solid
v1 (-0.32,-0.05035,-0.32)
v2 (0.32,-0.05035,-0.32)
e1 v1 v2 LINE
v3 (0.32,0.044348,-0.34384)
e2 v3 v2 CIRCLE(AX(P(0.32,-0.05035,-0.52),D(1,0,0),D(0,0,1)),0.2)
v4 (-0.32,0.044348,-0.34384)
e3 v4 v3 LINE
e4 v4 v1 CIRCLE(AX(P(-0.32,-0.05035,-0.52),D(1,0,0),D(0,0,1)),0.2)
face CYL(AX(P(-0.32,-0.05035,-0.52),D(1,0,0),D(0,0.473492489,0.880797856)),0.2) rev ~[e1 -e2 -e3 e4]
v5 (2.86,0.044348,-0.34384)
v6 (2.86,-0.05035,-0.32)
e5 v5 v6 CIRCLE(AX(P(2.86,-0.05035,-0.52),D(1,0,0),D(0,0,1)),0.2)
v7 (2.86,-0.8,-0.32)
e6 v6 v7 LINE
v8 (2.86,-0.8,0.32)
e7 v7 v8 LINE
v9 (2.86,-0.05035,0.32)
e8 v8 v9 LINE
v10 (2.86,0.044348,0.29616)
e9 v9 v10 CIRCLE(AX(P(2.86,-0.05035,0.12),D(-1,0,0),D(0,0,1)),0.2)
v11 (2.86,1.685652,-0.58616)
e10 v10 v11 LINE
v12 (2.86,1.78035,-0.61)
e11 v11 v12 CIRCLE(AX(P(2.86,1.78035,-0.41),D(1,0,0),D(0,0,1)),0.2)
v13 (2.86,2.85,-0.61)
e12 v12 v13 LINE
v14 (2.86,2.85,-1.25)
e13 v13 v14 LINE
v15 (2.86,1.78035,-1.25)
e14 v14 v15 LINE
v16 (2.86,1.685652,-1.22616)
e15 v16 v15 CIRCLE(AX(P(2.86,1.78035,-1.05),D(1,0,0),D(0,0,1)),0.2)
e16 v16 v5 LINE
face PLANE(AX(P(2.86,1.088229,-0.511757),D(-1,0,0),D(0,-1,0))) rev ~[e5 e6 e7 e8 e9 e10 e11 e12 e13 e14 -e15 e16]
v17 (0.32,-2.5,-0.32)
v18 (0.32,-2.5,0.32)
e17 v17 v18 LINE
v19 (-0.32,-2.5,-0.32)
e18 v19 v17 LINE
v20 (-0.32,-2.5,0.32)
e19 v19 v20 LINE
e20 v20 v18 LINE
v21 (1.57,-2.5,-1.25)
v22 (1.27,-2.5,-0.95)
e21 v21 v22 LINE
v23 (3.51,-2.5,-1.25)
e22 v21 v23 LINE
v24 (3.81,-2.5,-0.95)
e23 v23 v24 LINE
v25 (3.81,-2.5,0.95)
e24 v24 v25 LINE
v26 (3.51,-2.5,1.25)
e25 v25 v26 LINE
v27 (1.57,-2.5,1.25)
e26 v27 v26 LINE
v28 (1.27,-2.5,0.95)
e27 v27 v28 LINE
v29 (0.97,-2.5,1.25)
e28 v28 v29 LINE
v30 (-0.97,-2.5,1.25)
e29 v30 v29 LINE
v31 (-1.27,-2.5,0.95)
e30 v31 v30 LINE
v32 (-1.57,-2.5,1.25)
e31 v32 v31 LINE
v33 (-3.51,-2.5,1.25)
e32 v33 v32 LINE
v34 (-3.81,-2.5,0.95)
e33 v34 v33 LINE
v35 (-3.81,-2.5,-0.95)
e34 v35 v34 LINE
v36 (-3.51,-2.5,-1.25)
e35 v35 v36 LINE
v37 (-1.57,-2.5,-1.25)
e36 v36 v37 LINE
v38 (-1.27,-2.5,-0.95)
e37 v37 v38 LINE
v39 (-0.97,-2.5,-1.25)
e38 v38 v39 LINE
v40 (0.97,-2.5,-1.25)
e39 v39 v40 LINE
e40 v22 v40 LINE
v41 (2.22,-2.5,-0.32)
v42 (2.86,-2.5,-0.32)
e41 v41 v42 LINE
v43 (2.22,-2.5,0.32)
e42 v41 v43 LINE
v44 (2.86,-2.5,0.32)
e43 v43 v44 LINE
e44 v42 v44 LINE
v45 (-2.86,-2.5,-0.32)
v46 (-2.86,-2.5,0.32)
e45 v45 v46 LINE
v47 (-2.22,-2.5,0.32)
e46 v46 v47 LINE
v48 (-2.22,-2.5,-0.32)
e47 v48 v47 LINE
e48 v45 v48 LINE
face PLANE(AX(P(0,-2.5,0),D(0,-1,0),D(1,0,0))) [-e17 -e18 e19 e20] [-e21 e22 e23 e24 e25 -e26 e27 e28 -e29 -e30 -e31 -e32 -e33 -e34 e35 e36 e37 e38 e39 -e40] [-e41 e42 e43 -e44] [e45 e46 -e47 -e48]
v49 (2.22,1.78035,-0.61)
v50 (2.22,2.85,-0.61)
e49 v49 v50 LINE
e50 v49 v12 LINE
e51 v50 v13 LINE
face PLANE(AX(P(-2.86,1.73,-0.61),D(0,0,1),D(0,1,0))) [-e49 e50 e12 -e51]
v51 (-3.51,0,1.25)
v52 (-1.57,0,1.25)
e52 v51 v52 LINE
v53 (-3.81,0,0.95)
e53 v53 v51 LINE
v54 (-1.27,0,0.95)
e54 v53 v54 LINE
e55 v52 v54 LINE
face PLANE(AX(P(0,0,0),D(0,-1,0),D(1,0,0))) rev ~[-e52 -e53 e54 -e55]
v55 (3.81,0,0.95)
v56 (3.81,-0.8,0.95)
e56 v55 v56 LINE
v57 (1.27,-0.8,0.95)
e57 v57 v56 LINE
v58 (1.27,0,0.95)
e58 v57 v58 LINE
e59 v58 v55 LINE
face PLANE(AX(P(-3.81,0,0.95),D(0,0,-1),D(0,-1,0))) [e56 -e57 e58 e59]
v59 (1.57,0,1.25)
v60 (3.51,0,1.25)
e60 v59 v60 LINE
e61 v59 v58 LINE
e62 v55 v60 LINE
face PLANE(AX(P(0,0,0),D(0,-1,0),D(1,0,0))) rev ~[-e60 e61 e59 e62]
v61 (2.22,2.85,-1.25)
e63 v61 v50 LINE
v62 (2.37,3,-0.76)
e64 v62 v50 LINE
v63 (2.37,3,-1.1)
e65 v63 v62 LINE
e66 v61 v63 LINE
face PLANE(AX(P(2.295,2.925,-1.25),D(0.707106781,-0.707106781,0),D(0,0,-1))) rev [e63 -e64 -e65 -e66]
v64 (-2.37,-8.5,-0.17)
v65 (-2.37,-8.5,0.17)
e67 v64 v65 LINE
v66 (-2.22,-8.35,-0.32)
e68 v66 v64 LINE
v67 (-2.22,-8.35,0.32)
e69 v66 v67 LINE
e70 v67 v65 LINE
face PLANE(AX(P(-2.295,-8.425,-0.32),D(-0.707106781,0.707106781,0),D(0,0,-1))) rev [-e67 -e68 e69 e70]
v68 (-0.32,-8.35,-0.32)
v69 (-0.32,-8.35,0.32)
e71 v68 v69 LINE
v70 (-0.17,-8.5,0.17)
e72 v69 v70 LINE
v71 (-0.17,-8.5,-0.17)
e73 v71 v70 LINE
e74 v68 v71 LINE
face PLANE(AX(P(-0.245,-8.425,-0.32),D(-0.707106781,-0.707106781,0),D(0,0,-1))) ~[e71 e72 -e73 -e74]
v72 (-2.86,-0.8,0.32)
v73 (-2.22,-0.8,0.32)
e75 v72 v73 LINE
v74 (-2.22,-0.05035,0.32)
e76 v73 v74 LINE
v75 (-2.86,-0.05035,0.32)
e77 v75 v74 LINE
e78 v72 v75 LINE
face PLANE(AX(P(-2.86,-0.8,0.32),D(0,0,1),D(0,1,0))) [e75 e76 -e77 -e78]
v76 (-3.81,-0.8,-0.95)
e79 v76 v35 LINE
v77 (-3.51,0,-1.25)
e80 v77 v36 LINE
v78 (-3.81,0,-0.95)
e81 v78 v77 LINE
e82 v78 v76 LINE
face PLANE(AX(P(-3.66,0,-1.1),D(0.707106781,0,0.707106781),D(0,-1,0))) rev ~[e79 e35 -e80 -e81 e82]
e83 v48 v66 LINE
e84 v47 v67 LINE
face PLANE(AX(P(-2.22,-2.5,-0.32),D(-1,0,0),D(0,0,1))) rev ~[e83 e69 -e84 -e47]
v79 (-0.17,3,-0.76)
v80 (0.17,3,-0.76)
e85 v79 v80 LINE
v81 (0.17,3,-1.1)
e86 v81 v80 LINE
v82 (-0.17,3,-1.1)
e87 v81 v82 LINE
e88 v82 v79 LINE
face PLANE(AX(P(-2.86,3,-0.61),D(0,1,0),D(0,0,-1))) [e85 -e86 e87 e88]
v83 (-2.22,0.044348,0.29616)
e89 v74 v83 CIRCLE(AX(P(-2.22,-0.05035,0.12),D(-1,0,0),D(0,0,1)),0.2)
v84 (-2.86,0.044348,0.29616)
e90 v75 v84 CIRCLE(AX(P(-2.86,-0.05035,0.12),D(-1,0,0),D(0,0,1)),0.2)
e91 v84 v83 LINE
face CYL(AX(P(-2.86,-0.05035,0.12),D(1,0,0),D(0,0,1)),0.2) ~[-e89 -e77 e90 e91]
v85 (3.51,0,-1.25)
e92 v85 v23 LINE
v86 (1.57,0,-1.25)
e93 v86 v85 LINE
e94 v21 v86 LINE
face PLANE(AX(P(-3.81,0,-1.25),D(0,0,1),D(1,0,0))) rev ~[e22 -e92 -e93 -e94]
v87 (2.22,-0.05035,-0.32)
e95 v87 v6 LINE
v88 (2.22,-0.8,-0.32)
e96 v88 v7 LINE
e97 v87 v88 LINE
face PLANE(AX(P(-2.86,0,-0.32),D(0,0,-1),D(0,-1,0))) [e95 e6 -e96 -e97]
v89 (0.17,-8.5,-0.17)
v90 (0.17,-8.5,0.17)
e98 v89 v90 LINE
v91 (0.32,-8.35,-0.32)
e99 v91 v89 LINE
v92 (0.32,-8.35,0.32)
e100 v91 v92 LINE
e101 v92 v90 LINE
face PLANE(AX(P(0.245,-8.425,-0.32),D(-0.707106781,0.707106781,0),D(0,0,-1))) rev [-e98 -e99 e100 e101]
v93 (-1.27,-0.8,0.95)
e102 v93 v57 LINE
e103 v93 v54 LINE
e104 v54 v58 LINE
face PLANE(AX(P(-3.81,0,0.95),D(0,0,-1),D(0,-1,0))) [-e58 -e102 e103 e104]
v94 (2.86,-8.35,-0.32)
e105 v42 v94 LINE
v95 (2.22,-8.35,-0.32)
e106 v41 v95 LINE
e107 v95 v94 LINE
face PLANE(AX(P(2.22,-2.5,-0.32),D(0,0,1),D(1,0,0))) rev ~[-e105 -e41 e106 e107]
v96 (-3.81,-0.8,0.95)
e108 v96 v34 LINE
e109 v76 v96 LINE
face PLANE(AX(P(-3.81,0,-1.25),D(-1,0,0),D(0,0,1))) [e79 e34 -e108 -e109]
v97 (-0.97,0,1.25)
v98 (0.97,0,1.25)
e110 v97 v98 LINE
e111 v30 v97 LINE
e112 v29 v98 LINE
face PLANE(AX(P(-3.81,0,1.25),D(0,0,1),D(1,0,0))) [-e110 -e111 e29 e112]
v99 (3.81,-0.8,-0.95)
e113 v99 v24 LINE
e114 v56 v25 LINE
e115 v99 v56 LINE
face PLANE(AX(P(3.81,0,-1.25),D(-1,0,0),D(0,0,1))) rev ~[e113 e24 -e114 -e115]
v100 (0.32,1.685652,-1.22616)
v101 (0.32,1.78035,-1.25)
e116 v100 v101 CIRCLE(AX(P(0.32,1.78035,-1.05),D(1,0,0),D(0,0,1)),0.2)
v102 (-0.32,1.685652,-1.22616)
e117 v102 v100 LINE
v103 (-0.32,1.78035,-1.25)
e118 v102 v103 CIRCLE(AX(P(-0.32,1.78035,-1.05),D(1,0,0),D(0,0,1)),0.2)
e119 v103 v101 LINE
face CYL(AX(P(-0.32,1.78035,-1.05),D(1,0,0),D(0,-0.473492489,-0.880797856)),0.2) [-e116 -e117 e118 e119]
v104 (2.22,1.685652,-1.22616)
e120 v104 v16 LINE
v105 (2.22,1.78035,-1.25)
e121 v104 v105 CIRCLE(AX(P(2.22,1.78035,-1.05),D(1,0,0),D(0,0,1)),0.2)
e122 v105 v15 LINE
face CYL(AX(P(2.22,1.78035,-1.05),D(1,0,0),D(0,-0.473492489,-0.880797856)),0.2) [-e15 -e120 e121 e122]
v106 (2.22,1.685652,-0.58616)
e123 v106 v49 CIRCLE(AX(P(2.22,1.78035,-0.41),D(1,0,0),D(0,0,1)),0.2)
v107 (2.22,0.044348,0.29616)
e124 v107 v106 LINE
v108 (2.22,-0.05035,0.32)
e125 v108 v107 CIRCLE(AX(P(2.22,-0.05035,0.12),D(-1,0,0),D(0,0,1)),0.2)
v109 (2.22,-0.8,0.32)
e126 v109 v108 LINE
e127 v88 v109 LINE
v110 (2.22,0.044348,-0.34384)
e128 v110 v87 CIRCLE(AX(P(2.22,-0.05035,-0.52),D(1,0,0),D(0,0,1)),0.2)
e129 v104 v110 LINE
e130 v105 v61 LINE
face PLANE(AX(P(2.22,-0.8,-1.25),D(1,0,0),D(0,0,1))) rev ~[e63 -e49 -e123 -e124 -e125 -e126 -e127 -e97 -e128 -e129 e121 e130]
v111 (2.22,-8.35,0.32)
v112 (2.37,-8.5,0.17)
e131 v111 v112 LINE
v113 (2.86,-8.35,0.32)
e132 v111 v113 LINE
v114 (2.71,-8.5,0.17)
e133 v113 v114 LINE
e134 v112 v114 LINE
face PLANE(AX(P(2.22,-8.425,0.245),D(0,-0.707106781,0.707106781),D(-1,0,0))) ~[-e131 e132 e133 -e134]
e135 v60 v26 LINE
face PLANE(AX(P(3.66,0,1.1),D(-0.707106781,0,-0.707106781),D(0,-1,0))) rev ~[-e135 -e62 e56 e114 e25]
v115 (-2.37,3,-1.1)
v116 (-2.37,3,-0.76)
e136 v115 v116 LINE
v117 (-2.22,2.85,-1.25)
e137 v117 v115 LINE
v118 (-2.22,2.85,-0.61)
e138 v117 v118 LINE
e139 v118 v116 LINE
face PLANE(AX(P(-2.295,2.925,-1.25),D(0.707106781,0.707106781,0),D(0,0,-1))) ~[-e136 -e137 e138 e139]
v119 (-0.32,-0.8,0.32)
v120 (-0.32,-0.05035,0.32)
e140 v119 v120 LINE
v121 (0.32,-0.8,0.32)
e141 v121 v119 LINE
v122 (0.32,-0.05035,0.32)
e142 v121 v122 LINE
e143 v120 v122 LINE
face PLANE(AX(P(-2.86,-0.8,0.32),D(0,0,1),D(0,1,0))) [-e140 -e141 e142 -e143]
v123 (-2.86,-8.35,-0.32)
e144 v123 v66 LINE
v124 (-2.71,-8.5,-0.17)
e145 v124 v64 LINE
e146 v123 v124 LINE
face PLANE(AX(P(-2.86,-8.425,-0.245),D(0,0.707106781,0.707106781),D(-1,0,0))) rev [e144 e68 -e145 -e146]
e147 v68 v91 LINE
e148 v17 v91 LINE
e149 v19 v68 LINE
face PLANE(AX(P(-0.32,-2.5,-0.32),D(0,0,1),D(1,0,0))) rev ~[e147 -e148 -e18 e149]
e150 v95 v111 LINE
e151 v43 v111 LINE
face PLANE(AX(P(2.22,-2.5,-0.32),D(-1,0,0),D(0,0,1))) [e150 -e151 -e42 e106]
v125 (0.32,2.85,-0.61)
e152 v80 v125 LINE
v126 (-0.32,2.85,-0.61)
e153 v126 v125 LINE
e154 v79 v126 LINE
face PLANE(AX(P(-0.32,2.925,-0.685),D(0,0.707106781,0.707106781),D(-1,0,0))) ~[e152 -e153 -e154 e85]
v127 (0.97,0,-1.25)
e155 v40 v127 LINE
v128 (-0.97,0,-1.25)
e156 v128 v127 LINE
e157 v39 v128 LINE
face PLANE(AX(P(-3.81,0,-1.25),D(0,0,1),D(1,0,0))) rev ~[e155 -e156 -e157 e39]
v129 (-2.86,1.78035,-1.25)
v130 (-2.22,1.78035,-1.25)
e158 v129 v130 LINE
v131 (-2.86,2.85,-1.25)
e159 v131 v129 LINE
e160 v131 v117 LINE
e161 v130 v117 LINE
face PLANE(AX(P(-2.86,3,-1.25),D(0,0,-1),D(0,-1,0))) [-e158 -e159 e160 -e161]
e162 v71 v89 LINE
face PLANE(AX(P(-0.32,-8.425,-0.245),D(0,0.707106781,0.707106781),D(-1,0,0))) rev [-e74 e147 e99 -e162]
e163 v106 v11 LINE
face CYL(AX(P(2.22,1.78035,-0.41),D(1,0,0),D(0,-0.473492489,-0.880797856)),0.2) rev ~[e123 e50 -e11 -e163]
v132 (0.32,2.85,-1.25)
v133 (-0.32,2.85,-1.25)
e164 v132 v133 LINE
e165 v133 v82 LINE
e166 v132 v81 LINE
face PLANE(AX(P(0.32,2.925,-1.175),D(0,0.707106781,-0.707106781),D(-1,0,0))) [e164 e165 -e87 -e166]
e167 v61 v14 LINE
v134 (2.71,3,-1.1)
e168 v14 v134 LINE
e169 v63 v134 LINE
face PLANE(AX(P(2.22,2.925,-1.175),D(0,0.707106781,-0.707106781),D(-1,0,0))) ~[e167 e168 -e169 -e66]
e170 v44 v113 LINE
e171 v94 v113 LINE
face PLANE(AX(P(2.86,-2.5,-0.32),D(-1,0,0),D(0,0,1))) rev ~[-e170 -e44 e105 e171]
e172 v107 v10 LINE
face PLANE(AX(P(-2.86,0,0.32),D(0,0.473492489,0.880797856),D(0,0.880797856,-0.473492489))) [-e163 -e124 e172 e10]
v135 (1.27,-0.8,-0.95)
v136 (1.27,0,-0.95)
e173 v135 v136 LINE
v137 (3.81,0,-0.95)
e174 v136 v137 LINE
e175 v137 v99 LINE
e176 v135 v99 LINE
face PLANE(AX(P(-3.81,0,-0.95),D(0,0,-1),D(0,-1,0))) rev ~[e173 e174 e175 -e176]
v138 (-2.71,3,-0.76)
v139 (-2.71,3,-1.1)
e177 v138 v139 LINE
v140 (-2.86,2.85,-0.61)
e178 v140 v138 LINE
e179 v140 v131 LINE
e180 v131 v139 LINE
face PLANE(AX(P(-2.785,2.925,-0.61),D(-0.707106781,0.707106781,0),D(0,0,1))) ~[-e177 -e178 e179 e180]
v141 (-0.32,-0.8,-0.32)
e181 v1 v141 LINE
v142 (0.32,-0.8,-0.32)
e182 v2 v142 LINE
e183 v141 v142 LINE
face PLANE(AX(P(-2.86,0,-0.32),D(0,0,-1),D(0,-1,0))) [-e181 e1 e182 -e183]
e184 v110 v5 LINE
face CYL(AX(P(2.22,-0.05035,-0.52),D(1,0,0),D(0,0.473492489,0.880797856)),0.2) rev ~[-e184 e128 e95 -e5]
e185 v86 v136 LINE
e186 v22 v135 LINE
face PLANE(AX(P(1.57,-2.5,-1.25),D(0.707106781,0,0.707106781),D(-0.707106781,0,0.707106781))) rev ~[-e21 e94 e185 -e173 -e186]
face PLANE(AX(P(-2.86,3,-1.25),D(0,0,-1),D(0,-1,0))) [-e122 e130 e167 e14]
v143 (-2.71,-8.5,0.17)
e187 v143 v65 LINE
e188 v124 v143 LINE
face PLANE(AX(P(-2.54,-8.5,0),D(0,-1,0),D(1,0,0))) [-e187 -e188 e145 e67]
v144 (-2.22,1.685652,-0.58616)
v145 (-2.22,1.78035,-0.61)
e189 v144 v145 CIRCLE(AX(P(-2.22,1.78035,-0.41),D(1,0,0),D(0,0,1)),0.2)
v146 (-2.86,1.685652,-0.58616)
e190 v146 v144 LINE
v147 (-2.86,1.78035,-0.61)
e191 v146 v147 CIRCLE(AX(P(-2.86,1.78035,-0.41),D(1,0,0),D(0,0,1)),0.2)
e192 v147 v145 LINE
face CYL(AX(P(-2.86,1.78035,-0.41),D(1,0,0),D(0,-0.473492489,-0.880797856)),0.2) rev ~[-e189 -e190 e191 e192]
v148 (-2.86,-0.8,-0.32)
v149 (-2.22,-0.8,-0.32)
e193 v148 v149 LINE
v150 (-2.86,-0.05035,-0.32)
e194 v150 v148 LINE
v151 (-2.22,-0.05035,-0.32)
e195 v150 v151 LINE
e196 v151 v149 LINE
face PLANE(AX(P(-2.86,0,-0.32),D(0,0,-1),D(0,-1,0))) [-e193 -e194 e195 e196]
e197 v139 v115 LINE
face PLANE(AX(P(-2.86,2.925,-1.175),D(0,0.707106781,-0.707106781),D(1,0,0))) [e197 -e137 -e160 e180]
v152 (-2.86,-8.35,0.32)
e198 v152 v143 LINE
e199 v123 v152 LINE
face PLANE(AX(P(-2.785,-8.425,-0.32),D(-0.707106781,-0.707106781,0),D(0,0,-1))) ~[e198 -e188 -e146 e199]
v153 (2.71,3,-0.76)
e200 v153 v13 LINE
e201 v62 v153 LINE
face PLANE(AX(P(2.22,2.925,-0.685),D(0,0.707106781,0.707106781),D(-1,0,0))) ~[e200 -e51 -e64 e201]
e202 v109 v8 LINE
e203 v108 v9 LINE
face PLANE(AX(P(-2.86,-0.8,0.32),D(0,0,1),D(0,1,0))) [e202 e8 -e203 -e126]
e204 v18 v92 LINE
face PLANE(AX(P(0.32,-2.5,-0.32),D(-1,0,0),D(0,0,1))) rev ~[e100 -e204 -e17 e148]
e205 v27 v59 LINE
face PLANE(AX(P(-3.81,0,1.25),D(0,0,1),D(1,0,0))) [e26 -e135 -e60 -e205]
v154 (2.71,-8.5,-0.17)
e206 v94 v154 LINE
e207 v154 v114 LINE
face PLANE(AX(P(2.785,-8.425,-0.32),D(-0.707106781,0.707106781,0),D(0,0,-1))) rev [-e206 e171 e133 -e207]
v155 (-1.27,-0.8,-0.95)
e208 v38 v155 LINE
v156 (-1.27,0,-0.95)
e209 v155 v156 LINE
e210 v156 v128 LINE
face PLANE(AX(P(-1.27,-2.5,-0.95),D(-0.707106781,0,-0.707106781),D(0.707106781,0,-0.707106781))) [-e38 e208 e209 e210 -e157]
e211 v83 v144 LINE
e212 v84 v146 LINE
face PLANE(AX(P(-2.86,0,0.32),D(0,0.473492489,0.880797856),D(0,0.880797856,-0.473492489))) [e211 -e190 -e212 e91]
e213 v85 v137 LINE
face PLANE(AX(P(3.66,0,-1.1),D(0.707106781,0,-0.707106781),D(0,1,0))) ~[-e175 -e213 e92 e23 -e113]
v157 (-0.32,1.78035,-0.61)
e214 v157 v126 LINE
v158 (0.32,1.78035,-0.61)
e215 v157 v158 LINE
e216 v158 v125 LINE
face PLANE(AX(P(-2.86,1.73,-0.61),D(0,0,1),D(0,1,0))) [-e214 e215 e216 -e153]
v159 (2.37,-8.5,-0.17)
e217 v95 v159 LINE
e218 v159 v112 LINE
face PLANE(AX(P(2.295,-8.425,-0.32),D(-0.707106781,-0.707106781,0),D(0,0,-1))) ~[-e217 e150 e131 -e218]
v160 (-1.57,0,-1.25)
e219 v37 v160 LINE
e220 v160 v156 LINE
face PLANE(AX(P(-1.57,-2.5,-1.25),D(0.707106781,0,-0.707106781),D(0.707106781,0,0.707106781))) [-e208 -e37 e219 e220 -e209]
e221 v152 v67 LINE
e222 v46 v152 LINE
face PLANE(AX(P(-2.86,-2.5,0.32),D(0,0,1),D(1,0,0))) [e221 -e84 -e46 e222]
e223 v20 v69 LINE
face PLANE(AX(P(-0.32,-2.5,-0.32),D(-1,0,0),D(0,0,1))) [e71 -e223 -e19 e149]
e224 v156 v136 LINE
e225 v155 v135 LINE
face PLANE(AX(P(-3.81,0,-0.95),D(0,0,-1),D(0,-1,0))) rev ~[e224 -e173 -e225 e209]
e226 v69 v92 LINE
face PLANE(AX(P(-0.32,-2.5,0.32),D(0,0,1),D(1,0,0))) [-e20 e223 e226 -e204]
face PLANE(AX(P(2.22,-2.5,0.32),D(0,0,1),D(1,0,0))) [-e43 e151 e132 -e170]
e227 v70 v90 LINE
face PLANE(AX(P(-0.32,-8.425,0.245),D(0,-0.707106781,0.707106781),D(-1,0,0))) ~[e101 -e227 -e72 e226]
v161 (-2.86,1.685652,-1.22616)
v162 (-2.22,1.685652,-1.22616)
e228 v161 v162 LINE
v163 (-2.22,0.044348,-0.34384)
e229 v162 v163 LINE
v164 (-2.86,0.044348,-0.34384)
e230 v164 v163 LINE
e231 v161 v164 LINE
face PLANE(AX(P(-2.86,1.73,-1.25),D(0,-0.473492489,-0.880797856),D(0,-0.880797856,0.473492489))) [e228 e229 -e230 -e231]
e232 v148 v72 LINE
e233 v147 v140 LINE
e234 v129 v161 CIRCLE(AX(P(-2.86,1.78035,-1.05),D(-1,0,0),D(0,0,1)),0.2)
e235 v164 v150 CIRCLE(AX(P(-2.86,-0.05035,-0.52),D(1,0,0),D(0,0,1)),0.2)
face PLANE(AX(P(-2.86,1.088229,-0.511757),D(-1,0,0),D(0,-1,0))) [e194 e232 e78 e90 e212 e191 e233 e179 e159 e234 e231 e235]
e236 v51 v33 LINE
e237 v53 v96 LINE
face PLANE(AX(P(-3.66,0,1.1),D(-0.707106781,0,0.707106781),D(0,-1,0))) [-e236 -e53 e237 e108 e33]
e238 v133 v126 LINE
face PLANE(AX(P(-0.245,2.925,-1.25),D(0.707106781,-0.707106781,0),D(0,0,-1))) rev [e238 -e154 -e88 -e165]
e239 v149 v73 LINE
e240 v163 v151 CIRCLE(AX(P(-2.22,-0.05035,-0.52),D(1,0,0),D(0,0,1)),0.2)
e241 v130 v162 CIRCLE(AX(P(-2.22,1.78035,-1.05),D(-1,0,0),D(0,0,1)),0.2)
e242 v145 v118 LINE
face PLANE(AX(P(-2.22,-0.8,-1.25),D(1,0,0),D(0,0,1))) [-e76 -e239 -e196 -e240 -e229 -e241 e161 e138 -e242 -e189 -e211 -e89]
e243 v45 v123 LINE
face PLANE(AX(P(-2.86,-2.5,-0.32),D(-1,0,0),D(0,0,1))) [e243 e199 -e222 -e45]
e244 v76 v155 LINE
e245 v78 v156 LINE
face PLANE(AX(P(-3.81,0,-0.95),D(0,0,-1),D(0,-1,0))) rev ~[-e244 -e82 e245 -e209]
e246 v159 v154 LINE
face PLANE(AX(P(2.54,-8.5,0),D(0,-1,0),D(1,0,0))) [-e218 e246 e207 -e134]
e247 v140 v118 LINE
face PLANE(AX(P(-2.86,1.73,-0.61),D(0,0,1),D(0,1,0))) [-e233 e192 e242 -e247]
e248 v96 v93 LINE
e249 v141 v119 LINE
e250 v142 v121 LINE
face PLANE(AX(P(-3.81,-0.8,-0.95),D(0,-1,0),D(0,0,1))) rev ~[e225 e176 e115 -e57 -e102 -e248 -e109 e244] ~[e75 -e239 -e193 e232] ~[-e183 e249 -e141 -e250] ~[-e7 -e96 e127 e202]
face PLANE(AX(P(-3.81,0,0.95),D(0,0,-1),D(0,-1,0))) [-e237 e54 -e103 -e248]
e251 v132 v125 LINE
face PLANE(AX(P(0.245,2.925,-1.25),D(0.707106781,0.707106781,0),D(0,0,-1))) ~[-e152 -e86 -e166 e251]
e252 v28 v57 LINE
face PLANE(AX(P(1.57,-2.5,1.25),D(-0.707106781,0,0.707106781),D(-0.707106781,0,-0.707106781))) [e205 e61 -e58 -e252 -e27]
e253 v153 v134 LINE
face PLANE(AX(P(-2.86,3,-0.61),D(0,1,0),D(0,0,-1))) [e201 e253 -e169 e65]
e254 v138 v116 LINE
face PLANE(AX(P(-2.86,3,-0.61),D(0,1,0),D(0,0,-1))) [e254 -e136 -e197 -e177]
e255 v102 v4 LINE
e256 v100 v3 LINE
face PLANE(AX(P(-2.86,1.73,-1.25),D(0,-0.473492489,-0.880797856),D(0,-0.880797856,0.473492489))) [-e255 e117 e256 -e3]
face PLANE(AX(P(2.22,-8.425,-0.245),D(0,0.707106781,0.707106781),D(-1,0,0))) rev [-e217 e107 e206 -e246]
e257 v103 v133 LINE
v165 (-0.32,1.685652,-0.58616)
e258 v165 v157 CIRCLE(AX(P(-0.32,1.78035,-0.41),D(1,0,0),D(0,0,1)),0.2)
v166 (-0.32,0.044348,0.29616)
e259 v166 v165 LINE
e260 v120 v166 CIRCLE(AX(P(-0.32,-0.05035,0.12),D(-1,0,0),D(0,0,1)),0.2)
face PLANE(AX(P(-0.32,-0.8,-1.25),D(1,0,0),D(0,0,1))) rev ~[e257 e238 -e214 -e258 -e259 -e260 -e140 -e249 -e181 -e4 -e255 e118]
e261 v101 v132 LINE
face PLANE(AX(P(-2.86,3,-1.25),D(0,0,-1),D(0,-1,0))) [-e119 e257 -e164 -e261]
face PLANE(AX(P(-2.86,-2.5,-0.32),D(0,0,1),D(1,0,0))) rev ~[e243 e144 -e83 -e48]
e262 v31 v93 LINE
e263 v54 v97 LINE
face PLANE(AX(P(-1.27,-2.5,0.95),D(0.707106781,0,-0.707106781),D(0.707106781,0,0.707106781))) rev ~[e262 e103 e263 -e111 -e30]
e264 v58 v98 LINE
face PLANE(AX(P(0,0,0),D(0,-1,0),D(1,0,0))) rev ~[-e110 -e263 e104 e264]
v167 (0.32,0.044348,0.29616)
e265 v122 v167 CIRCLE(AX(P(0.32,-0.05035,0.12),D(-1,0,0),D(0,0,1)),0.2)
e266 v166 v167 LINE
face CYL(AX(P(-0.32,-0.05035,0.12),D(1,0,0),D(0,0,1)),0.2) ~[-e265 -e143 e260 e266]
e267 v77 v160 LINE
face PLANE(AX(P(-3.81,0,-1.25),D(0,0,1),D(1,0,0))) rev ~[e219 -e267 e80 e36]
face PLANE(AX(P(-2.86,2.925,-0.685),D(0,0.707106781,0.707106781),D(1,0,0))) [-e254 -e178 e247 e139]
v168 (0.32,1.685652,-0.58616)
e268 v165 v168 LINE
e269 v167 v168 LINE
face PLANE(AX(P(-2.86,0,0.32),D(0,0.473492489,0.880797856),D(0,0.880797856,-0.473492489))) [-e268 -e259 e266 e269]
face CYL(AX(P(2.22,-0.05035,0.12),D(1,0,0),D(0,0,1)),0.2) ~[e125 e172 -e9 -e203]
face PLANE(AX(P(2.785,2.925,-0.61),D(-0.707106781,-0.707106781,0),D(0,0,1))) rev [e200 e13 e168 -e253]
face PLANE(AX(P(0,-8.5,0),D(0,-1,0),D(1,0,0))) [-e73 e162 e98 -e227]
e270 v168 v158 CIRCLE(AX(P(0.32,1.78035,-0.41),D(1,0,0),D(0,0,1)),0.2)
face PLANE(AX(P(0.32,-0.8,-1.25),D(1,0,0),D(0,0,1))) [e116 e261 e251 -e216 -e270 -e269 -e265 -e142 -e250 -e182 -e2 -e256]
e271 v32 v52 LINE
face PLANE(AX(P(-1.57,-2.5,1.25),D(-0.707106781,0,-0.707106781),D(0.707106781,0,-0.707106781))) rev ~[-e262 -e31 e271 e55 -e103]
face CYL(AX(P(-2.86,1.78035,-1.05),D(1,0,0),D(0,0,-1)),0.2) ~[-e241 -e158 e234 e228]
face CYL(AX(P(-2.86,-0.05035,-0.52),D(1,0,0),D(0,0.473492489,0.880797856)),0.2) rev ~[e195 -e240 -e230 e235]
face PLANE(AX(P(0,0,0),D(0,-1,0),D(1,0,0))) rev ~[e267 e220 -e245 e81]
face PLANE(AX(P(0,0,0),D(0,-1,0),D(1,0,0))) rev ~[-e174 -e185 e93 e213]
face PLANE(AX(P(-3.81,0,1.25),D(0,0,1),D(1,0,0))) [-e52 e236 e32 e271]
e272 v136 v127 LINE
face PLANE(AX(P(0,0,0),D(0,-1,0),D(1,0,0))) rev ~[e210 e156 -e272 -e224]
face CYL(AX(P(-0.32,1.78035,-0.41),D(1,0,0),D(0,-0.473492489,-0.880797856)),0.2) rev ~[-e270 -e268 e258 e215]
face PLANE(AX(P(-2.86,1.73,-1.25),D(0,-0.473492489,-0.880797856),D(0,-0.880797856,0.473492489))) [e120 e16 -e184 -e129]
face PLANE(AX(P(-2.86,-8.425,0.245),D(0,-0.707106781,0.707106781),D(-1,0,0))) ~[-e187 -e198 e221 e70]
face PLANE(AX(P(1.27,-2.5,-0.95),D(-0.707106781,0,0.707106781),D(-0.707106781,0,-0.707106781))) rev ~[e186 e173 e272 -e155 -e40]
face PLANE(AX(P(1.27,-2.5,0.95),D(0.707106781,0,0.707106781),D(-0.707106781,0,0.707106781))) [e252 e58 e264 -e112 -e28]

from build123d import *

# Parameters (mm, degrees)
SKETCH002_AS_DRAWN_W                      = 0.64
SKETCH002_AS_DRAWN_H                      = 0.64
EXTRUDE002_DEPTH                          = 6
EXTRUDE002_ONTO_SKETCH002_ROLL_ANGLE      = 90
CHAMFER001_SIZE                           = 0.15
SKETCH003_W                               = 0.8
SKETCH003_H                               = 1.9
EXTRUDE003_DEPTH                          = 7.62
EXTRUDE001_DEPTH                          = 2.5
EXTRUDE001_ONTO_SKETCH001_ROLL_ANGLE      = 90
SKETCH_AS_DRAWN_W                         = 7.62
SKETCH_AS_DRAWN_H                         = 2.5
EXTRUDE_DEPTH                             = 2.5
EXTRUDE_ONTO_SKETCH_ROLL_ANGLE            = 90
CHAMFER_SIZE                              = 0.3
SKETCH004_AS_DRAWN_W                      = 0.64
SKETCH004_AS_DRAWN_H                      = 1.57
EXTRUDE004_DEPTH                          = 3.8
EXTRUDE004_ONTO_SKETCH004_ROLL_ANGLE      = 90
EXTRUDE004_ONTO_SKETCH004_PLACEMENT_ANGLE = 180
EXTRUDE005_DEPTH                          = 5.72
FILLET_R                                  = 0.2
CHAMFER002_SIZE                           = 0.15


with BuildPart() as chamfer001:
    # Sketch002 as drawn → Extrude002 (new)
    with BuildSketch(Plane.XY):
        Rectangle(SKETCH002_AS_DRAWN_W, SKETCH002_AS_DRAWN_H)
        with Locations((-2.54, 0)):
            Rectangle(SKETCH002_AS_DRAWN_W, SKETCH002_AS_DRAWN_H)
        with Locations((2.54, 0)):
            Rectangle(SKETCH002_AS_DRAWN_W, SKETCH002_AS_DRAWN_H)
    extrude(amount=EXTRUDE002_DEPTH)


with BuildPart() as chamfer001_1:
    # Extrude002 onto Sketch002 roll: moved
    add(chamfer001.part.rotate(Axis((0, 0, 0), (1, 0, 0)), EXTRUDE002_ONTO_SKETCH002_ROLL_ANGLE))


with BuildPart() as chamfer001_2:
    # Extrude002 onto Sketch002 placement: moved
    add(chamfer001_1.part.moved(Location((0, -2.5, 0))))

    # Chamfer001
    chamfer001_edges = [chamfer001_2.edges().sort_by_distance(p)[0] for p in [
        (0, -8.5, 0.32),
        (-0.32, -8.5, 0),
        (0, -8.5, -0.32),
        (0.32, -8.5, 0),
        (2.54, -8.5, 0.32),
        (2.22, -8.5, 0),
        (2.54, -8.5, -0.32),
        (2.86, -8.5, 0),
        (-2.54, -8.5, 0.32),
        (-2.86, -8.5, 0),
        (-2.54, -8.5, -0.32),
        (-2.22, -8.5, 0),
    ]]
    chamfer(chamfer001_edges, length=CHAMFER001_SIZE)


with BuildPart() as extrude003:
    # Sketch003 (on Face6 of Cut) → Extrude003 (new body)
    with BuildSketch(Plane(origin=(-3.81, 0, 0), x_dir=(0, -1, 0), z_dir=(-1, 0, 0))):
        with Locations((0.4, 0)):
            Rectangle(SKETCH003_W, SKETCH003_H)
    extrude(amount=-EXTRUDE003_DEPTH)


with BuildPart() as extrude001:
    # Sketch001 as drawn → Extrude001 (new)
    with BuildSketch(Plane.XY):
        Polygon((-1.57, 1.25), (-1.27, 0.95), (-0.97, 1.25), align=None)
        Polygon((1.57, 1.25), (1.27, 0.95), (0.97, 1.25), align=None)
        Polygon((-1.57, -1.25), (-1.27, -0.95), (-0.97, -1.25), align=None)
        Polygon((1.57, -1.25), (1.27, -0.95), (0.97, -1.25), align=None)
    extrude(amount=-EXTRUDE001_DEPTH)


with BuildPart() as extrude001_1:
    # Extrude001 onto Sketch001 roll: moved
    add(extrude001.part.rotate(Axis((0, 0, 0), (1, 0, 0)), EXTRUDE001_ONTO_SKETCH001_ROLL_ANGLE))


with BuildPart() as extrude001_2:
    # Extrude001 onto Sketch001 placement: moved
    add(extrude001_1.part.moved(Location((0, -2.5, 0))))


with BuildPart() as cut001:
    # Sketch as drawn → Extrude (new)
    with BuildSketch(Plane.XY):
        Rectangle(SKETCH_AS_DRAWN_W, SKETCH_AS_DRAWN_H)
    extrude(amount=EXTRUDE_DEPTH)


with BuildPart() as cut001_1:
    # Extrude onto Sketch roll: moved
    add(cut001.part.rotate(Axis((0, 0, 0), (1, 0, 0)), EXTRUDE_ONTO_SKETCH_ROLL_ANGLE))


with BuildPart() as cut001_2:
    # Extrude onto Sketch placement: moved
    add(cut001_1.part)

    # Chamfer
    chamfer_edges = [cut001_2.edges().sort_by_distance(p)[0] for p in [
        (-3.81, -1.25, 1.25),
        (3.81, -1.25, 1.25),
        (3.81, -1.25, -1.25),
        (-3.81, -1.25, -1.25),
    ]]
    chamfer(chamfer_edges, length=CHAMFER_SIZE)

    # Cut: cut Extrude001
    add(extrude001_2.part, mode=Mode.SUBTRACT)

    # Cut001: cut Extrude003
    add(extrude003.part, mode=Mode.SUBTRACT)


with BuildPart() as extrude004:
    # Sketch004 as drawn → Extrude004 (new)
    with BuildSketch(Plane.XY):
        with Locations((0, -0.465)):
            Rectangle(SKETCH004_AS_DRAWN_W, SKETCH004_AS_DRAWN_H)
        with Locations((-2.54, -0.465)):
            Rectangle(SKETCH004_AS_DRAWN_W, SKETCH004_AS_DRAWN_H)
        with Locations((2.54, -0.465)):
            Rectangle(SKETCH004_AS_DRAWN_W, SKETCH004_AS_DRAWN_H)
    extrude(amount=EXTRUDE004_DEPTH)


with BuildPart() as extrude004_1:
    # Extrude004 onto Sketch004 roll: moved
    add(extrude004.part.rotate(Axis((0, 0, 0), (1, 0, 0)), EXTRUDE004_ONTO_SKETCH004_ROLL_ANGLE))


with BuildPart() as extrude004_2:
    # Extrude004 onto Sketch004 placement: moved
    add(extrude004_1.part.moved(Location((0, -0.8, 0))).rotate(Axis((0, -0.8, 0), (0, 0, 1)), EXTRUDE004_ONTO_SKETCH004_PLACEMENT_ANGLE))


with BuildPart() as fusion:
    # Sketch005 (on Face8 of Extrude004) → Extrude005 (new body)
    with BuildSketch(Plane(origin=(-2.86, 0, 0), x_dir=(0, -1, 0), z_dir=(-1, 0, 0))):
        Polygon((0.8, 0.32), (0, 0.32), (-1.73, -0.61), (-3, -0.61), (-3, -1.25), (-1.73, -1.25), (0, -0.32), (0.8, -0.32), align=None)
    extrude(amount=-EXTRUDE005_DEPTH)

    # Common: intersect Extrude004
    add(extrude004_2.part, mode=Mode.INTERSECT)

    # Fillet
    fillet_edges = [fusion.edges().sort_by_distance(p)[0] for p in [
        (2.54, 1.73, -0.61),
        (2.54, 0, 0.32),
        (2.54, 0, -0.32),
        (2.54, 1.73, -1.25),
        (0, 1.73, -0.61),
        (0, 0, 0.32),
        (0, 0, -0.32),
        (0, 1.73, -1.25),
        (-2.54, 1.73, -0.61),
        (-2.54, 0, 0.32),
        (-2.54, 0, -0.32),
        (-2.54, 1.73, -1.25),
    ]]
    fillet(fillet_edges, radius=FILLET_R)

    # Chamfer002
    chamfer002_edges = [fusion.edges().sort_by_distance(p)[0] for p in [
        (2.54, 3, -0.61),
        (2.86, 3, -0.93),
        (2.22, 3, -0.93),
        (2.54, 3, -1.25),
        (0, 3, -0.61),
        (0.32, 3, -0.93),
        (-0.32, 3, -0.93),
        (0, 3, -1.25),
        (-2.54, 3, -0.61),
        (-2.22, 3, -0.93),
        (-2.86, 3, -0.93),
        (-2.54, 3, -1.25),
    ]]
    chamfer(chamfer002_edges, length=CHAMFER002_SIZE)

    # Fusion: union Chamfer001, Cut001
    add(chamfer001_2.part)
    add(cut001_2.part)


solid = fusion.part
